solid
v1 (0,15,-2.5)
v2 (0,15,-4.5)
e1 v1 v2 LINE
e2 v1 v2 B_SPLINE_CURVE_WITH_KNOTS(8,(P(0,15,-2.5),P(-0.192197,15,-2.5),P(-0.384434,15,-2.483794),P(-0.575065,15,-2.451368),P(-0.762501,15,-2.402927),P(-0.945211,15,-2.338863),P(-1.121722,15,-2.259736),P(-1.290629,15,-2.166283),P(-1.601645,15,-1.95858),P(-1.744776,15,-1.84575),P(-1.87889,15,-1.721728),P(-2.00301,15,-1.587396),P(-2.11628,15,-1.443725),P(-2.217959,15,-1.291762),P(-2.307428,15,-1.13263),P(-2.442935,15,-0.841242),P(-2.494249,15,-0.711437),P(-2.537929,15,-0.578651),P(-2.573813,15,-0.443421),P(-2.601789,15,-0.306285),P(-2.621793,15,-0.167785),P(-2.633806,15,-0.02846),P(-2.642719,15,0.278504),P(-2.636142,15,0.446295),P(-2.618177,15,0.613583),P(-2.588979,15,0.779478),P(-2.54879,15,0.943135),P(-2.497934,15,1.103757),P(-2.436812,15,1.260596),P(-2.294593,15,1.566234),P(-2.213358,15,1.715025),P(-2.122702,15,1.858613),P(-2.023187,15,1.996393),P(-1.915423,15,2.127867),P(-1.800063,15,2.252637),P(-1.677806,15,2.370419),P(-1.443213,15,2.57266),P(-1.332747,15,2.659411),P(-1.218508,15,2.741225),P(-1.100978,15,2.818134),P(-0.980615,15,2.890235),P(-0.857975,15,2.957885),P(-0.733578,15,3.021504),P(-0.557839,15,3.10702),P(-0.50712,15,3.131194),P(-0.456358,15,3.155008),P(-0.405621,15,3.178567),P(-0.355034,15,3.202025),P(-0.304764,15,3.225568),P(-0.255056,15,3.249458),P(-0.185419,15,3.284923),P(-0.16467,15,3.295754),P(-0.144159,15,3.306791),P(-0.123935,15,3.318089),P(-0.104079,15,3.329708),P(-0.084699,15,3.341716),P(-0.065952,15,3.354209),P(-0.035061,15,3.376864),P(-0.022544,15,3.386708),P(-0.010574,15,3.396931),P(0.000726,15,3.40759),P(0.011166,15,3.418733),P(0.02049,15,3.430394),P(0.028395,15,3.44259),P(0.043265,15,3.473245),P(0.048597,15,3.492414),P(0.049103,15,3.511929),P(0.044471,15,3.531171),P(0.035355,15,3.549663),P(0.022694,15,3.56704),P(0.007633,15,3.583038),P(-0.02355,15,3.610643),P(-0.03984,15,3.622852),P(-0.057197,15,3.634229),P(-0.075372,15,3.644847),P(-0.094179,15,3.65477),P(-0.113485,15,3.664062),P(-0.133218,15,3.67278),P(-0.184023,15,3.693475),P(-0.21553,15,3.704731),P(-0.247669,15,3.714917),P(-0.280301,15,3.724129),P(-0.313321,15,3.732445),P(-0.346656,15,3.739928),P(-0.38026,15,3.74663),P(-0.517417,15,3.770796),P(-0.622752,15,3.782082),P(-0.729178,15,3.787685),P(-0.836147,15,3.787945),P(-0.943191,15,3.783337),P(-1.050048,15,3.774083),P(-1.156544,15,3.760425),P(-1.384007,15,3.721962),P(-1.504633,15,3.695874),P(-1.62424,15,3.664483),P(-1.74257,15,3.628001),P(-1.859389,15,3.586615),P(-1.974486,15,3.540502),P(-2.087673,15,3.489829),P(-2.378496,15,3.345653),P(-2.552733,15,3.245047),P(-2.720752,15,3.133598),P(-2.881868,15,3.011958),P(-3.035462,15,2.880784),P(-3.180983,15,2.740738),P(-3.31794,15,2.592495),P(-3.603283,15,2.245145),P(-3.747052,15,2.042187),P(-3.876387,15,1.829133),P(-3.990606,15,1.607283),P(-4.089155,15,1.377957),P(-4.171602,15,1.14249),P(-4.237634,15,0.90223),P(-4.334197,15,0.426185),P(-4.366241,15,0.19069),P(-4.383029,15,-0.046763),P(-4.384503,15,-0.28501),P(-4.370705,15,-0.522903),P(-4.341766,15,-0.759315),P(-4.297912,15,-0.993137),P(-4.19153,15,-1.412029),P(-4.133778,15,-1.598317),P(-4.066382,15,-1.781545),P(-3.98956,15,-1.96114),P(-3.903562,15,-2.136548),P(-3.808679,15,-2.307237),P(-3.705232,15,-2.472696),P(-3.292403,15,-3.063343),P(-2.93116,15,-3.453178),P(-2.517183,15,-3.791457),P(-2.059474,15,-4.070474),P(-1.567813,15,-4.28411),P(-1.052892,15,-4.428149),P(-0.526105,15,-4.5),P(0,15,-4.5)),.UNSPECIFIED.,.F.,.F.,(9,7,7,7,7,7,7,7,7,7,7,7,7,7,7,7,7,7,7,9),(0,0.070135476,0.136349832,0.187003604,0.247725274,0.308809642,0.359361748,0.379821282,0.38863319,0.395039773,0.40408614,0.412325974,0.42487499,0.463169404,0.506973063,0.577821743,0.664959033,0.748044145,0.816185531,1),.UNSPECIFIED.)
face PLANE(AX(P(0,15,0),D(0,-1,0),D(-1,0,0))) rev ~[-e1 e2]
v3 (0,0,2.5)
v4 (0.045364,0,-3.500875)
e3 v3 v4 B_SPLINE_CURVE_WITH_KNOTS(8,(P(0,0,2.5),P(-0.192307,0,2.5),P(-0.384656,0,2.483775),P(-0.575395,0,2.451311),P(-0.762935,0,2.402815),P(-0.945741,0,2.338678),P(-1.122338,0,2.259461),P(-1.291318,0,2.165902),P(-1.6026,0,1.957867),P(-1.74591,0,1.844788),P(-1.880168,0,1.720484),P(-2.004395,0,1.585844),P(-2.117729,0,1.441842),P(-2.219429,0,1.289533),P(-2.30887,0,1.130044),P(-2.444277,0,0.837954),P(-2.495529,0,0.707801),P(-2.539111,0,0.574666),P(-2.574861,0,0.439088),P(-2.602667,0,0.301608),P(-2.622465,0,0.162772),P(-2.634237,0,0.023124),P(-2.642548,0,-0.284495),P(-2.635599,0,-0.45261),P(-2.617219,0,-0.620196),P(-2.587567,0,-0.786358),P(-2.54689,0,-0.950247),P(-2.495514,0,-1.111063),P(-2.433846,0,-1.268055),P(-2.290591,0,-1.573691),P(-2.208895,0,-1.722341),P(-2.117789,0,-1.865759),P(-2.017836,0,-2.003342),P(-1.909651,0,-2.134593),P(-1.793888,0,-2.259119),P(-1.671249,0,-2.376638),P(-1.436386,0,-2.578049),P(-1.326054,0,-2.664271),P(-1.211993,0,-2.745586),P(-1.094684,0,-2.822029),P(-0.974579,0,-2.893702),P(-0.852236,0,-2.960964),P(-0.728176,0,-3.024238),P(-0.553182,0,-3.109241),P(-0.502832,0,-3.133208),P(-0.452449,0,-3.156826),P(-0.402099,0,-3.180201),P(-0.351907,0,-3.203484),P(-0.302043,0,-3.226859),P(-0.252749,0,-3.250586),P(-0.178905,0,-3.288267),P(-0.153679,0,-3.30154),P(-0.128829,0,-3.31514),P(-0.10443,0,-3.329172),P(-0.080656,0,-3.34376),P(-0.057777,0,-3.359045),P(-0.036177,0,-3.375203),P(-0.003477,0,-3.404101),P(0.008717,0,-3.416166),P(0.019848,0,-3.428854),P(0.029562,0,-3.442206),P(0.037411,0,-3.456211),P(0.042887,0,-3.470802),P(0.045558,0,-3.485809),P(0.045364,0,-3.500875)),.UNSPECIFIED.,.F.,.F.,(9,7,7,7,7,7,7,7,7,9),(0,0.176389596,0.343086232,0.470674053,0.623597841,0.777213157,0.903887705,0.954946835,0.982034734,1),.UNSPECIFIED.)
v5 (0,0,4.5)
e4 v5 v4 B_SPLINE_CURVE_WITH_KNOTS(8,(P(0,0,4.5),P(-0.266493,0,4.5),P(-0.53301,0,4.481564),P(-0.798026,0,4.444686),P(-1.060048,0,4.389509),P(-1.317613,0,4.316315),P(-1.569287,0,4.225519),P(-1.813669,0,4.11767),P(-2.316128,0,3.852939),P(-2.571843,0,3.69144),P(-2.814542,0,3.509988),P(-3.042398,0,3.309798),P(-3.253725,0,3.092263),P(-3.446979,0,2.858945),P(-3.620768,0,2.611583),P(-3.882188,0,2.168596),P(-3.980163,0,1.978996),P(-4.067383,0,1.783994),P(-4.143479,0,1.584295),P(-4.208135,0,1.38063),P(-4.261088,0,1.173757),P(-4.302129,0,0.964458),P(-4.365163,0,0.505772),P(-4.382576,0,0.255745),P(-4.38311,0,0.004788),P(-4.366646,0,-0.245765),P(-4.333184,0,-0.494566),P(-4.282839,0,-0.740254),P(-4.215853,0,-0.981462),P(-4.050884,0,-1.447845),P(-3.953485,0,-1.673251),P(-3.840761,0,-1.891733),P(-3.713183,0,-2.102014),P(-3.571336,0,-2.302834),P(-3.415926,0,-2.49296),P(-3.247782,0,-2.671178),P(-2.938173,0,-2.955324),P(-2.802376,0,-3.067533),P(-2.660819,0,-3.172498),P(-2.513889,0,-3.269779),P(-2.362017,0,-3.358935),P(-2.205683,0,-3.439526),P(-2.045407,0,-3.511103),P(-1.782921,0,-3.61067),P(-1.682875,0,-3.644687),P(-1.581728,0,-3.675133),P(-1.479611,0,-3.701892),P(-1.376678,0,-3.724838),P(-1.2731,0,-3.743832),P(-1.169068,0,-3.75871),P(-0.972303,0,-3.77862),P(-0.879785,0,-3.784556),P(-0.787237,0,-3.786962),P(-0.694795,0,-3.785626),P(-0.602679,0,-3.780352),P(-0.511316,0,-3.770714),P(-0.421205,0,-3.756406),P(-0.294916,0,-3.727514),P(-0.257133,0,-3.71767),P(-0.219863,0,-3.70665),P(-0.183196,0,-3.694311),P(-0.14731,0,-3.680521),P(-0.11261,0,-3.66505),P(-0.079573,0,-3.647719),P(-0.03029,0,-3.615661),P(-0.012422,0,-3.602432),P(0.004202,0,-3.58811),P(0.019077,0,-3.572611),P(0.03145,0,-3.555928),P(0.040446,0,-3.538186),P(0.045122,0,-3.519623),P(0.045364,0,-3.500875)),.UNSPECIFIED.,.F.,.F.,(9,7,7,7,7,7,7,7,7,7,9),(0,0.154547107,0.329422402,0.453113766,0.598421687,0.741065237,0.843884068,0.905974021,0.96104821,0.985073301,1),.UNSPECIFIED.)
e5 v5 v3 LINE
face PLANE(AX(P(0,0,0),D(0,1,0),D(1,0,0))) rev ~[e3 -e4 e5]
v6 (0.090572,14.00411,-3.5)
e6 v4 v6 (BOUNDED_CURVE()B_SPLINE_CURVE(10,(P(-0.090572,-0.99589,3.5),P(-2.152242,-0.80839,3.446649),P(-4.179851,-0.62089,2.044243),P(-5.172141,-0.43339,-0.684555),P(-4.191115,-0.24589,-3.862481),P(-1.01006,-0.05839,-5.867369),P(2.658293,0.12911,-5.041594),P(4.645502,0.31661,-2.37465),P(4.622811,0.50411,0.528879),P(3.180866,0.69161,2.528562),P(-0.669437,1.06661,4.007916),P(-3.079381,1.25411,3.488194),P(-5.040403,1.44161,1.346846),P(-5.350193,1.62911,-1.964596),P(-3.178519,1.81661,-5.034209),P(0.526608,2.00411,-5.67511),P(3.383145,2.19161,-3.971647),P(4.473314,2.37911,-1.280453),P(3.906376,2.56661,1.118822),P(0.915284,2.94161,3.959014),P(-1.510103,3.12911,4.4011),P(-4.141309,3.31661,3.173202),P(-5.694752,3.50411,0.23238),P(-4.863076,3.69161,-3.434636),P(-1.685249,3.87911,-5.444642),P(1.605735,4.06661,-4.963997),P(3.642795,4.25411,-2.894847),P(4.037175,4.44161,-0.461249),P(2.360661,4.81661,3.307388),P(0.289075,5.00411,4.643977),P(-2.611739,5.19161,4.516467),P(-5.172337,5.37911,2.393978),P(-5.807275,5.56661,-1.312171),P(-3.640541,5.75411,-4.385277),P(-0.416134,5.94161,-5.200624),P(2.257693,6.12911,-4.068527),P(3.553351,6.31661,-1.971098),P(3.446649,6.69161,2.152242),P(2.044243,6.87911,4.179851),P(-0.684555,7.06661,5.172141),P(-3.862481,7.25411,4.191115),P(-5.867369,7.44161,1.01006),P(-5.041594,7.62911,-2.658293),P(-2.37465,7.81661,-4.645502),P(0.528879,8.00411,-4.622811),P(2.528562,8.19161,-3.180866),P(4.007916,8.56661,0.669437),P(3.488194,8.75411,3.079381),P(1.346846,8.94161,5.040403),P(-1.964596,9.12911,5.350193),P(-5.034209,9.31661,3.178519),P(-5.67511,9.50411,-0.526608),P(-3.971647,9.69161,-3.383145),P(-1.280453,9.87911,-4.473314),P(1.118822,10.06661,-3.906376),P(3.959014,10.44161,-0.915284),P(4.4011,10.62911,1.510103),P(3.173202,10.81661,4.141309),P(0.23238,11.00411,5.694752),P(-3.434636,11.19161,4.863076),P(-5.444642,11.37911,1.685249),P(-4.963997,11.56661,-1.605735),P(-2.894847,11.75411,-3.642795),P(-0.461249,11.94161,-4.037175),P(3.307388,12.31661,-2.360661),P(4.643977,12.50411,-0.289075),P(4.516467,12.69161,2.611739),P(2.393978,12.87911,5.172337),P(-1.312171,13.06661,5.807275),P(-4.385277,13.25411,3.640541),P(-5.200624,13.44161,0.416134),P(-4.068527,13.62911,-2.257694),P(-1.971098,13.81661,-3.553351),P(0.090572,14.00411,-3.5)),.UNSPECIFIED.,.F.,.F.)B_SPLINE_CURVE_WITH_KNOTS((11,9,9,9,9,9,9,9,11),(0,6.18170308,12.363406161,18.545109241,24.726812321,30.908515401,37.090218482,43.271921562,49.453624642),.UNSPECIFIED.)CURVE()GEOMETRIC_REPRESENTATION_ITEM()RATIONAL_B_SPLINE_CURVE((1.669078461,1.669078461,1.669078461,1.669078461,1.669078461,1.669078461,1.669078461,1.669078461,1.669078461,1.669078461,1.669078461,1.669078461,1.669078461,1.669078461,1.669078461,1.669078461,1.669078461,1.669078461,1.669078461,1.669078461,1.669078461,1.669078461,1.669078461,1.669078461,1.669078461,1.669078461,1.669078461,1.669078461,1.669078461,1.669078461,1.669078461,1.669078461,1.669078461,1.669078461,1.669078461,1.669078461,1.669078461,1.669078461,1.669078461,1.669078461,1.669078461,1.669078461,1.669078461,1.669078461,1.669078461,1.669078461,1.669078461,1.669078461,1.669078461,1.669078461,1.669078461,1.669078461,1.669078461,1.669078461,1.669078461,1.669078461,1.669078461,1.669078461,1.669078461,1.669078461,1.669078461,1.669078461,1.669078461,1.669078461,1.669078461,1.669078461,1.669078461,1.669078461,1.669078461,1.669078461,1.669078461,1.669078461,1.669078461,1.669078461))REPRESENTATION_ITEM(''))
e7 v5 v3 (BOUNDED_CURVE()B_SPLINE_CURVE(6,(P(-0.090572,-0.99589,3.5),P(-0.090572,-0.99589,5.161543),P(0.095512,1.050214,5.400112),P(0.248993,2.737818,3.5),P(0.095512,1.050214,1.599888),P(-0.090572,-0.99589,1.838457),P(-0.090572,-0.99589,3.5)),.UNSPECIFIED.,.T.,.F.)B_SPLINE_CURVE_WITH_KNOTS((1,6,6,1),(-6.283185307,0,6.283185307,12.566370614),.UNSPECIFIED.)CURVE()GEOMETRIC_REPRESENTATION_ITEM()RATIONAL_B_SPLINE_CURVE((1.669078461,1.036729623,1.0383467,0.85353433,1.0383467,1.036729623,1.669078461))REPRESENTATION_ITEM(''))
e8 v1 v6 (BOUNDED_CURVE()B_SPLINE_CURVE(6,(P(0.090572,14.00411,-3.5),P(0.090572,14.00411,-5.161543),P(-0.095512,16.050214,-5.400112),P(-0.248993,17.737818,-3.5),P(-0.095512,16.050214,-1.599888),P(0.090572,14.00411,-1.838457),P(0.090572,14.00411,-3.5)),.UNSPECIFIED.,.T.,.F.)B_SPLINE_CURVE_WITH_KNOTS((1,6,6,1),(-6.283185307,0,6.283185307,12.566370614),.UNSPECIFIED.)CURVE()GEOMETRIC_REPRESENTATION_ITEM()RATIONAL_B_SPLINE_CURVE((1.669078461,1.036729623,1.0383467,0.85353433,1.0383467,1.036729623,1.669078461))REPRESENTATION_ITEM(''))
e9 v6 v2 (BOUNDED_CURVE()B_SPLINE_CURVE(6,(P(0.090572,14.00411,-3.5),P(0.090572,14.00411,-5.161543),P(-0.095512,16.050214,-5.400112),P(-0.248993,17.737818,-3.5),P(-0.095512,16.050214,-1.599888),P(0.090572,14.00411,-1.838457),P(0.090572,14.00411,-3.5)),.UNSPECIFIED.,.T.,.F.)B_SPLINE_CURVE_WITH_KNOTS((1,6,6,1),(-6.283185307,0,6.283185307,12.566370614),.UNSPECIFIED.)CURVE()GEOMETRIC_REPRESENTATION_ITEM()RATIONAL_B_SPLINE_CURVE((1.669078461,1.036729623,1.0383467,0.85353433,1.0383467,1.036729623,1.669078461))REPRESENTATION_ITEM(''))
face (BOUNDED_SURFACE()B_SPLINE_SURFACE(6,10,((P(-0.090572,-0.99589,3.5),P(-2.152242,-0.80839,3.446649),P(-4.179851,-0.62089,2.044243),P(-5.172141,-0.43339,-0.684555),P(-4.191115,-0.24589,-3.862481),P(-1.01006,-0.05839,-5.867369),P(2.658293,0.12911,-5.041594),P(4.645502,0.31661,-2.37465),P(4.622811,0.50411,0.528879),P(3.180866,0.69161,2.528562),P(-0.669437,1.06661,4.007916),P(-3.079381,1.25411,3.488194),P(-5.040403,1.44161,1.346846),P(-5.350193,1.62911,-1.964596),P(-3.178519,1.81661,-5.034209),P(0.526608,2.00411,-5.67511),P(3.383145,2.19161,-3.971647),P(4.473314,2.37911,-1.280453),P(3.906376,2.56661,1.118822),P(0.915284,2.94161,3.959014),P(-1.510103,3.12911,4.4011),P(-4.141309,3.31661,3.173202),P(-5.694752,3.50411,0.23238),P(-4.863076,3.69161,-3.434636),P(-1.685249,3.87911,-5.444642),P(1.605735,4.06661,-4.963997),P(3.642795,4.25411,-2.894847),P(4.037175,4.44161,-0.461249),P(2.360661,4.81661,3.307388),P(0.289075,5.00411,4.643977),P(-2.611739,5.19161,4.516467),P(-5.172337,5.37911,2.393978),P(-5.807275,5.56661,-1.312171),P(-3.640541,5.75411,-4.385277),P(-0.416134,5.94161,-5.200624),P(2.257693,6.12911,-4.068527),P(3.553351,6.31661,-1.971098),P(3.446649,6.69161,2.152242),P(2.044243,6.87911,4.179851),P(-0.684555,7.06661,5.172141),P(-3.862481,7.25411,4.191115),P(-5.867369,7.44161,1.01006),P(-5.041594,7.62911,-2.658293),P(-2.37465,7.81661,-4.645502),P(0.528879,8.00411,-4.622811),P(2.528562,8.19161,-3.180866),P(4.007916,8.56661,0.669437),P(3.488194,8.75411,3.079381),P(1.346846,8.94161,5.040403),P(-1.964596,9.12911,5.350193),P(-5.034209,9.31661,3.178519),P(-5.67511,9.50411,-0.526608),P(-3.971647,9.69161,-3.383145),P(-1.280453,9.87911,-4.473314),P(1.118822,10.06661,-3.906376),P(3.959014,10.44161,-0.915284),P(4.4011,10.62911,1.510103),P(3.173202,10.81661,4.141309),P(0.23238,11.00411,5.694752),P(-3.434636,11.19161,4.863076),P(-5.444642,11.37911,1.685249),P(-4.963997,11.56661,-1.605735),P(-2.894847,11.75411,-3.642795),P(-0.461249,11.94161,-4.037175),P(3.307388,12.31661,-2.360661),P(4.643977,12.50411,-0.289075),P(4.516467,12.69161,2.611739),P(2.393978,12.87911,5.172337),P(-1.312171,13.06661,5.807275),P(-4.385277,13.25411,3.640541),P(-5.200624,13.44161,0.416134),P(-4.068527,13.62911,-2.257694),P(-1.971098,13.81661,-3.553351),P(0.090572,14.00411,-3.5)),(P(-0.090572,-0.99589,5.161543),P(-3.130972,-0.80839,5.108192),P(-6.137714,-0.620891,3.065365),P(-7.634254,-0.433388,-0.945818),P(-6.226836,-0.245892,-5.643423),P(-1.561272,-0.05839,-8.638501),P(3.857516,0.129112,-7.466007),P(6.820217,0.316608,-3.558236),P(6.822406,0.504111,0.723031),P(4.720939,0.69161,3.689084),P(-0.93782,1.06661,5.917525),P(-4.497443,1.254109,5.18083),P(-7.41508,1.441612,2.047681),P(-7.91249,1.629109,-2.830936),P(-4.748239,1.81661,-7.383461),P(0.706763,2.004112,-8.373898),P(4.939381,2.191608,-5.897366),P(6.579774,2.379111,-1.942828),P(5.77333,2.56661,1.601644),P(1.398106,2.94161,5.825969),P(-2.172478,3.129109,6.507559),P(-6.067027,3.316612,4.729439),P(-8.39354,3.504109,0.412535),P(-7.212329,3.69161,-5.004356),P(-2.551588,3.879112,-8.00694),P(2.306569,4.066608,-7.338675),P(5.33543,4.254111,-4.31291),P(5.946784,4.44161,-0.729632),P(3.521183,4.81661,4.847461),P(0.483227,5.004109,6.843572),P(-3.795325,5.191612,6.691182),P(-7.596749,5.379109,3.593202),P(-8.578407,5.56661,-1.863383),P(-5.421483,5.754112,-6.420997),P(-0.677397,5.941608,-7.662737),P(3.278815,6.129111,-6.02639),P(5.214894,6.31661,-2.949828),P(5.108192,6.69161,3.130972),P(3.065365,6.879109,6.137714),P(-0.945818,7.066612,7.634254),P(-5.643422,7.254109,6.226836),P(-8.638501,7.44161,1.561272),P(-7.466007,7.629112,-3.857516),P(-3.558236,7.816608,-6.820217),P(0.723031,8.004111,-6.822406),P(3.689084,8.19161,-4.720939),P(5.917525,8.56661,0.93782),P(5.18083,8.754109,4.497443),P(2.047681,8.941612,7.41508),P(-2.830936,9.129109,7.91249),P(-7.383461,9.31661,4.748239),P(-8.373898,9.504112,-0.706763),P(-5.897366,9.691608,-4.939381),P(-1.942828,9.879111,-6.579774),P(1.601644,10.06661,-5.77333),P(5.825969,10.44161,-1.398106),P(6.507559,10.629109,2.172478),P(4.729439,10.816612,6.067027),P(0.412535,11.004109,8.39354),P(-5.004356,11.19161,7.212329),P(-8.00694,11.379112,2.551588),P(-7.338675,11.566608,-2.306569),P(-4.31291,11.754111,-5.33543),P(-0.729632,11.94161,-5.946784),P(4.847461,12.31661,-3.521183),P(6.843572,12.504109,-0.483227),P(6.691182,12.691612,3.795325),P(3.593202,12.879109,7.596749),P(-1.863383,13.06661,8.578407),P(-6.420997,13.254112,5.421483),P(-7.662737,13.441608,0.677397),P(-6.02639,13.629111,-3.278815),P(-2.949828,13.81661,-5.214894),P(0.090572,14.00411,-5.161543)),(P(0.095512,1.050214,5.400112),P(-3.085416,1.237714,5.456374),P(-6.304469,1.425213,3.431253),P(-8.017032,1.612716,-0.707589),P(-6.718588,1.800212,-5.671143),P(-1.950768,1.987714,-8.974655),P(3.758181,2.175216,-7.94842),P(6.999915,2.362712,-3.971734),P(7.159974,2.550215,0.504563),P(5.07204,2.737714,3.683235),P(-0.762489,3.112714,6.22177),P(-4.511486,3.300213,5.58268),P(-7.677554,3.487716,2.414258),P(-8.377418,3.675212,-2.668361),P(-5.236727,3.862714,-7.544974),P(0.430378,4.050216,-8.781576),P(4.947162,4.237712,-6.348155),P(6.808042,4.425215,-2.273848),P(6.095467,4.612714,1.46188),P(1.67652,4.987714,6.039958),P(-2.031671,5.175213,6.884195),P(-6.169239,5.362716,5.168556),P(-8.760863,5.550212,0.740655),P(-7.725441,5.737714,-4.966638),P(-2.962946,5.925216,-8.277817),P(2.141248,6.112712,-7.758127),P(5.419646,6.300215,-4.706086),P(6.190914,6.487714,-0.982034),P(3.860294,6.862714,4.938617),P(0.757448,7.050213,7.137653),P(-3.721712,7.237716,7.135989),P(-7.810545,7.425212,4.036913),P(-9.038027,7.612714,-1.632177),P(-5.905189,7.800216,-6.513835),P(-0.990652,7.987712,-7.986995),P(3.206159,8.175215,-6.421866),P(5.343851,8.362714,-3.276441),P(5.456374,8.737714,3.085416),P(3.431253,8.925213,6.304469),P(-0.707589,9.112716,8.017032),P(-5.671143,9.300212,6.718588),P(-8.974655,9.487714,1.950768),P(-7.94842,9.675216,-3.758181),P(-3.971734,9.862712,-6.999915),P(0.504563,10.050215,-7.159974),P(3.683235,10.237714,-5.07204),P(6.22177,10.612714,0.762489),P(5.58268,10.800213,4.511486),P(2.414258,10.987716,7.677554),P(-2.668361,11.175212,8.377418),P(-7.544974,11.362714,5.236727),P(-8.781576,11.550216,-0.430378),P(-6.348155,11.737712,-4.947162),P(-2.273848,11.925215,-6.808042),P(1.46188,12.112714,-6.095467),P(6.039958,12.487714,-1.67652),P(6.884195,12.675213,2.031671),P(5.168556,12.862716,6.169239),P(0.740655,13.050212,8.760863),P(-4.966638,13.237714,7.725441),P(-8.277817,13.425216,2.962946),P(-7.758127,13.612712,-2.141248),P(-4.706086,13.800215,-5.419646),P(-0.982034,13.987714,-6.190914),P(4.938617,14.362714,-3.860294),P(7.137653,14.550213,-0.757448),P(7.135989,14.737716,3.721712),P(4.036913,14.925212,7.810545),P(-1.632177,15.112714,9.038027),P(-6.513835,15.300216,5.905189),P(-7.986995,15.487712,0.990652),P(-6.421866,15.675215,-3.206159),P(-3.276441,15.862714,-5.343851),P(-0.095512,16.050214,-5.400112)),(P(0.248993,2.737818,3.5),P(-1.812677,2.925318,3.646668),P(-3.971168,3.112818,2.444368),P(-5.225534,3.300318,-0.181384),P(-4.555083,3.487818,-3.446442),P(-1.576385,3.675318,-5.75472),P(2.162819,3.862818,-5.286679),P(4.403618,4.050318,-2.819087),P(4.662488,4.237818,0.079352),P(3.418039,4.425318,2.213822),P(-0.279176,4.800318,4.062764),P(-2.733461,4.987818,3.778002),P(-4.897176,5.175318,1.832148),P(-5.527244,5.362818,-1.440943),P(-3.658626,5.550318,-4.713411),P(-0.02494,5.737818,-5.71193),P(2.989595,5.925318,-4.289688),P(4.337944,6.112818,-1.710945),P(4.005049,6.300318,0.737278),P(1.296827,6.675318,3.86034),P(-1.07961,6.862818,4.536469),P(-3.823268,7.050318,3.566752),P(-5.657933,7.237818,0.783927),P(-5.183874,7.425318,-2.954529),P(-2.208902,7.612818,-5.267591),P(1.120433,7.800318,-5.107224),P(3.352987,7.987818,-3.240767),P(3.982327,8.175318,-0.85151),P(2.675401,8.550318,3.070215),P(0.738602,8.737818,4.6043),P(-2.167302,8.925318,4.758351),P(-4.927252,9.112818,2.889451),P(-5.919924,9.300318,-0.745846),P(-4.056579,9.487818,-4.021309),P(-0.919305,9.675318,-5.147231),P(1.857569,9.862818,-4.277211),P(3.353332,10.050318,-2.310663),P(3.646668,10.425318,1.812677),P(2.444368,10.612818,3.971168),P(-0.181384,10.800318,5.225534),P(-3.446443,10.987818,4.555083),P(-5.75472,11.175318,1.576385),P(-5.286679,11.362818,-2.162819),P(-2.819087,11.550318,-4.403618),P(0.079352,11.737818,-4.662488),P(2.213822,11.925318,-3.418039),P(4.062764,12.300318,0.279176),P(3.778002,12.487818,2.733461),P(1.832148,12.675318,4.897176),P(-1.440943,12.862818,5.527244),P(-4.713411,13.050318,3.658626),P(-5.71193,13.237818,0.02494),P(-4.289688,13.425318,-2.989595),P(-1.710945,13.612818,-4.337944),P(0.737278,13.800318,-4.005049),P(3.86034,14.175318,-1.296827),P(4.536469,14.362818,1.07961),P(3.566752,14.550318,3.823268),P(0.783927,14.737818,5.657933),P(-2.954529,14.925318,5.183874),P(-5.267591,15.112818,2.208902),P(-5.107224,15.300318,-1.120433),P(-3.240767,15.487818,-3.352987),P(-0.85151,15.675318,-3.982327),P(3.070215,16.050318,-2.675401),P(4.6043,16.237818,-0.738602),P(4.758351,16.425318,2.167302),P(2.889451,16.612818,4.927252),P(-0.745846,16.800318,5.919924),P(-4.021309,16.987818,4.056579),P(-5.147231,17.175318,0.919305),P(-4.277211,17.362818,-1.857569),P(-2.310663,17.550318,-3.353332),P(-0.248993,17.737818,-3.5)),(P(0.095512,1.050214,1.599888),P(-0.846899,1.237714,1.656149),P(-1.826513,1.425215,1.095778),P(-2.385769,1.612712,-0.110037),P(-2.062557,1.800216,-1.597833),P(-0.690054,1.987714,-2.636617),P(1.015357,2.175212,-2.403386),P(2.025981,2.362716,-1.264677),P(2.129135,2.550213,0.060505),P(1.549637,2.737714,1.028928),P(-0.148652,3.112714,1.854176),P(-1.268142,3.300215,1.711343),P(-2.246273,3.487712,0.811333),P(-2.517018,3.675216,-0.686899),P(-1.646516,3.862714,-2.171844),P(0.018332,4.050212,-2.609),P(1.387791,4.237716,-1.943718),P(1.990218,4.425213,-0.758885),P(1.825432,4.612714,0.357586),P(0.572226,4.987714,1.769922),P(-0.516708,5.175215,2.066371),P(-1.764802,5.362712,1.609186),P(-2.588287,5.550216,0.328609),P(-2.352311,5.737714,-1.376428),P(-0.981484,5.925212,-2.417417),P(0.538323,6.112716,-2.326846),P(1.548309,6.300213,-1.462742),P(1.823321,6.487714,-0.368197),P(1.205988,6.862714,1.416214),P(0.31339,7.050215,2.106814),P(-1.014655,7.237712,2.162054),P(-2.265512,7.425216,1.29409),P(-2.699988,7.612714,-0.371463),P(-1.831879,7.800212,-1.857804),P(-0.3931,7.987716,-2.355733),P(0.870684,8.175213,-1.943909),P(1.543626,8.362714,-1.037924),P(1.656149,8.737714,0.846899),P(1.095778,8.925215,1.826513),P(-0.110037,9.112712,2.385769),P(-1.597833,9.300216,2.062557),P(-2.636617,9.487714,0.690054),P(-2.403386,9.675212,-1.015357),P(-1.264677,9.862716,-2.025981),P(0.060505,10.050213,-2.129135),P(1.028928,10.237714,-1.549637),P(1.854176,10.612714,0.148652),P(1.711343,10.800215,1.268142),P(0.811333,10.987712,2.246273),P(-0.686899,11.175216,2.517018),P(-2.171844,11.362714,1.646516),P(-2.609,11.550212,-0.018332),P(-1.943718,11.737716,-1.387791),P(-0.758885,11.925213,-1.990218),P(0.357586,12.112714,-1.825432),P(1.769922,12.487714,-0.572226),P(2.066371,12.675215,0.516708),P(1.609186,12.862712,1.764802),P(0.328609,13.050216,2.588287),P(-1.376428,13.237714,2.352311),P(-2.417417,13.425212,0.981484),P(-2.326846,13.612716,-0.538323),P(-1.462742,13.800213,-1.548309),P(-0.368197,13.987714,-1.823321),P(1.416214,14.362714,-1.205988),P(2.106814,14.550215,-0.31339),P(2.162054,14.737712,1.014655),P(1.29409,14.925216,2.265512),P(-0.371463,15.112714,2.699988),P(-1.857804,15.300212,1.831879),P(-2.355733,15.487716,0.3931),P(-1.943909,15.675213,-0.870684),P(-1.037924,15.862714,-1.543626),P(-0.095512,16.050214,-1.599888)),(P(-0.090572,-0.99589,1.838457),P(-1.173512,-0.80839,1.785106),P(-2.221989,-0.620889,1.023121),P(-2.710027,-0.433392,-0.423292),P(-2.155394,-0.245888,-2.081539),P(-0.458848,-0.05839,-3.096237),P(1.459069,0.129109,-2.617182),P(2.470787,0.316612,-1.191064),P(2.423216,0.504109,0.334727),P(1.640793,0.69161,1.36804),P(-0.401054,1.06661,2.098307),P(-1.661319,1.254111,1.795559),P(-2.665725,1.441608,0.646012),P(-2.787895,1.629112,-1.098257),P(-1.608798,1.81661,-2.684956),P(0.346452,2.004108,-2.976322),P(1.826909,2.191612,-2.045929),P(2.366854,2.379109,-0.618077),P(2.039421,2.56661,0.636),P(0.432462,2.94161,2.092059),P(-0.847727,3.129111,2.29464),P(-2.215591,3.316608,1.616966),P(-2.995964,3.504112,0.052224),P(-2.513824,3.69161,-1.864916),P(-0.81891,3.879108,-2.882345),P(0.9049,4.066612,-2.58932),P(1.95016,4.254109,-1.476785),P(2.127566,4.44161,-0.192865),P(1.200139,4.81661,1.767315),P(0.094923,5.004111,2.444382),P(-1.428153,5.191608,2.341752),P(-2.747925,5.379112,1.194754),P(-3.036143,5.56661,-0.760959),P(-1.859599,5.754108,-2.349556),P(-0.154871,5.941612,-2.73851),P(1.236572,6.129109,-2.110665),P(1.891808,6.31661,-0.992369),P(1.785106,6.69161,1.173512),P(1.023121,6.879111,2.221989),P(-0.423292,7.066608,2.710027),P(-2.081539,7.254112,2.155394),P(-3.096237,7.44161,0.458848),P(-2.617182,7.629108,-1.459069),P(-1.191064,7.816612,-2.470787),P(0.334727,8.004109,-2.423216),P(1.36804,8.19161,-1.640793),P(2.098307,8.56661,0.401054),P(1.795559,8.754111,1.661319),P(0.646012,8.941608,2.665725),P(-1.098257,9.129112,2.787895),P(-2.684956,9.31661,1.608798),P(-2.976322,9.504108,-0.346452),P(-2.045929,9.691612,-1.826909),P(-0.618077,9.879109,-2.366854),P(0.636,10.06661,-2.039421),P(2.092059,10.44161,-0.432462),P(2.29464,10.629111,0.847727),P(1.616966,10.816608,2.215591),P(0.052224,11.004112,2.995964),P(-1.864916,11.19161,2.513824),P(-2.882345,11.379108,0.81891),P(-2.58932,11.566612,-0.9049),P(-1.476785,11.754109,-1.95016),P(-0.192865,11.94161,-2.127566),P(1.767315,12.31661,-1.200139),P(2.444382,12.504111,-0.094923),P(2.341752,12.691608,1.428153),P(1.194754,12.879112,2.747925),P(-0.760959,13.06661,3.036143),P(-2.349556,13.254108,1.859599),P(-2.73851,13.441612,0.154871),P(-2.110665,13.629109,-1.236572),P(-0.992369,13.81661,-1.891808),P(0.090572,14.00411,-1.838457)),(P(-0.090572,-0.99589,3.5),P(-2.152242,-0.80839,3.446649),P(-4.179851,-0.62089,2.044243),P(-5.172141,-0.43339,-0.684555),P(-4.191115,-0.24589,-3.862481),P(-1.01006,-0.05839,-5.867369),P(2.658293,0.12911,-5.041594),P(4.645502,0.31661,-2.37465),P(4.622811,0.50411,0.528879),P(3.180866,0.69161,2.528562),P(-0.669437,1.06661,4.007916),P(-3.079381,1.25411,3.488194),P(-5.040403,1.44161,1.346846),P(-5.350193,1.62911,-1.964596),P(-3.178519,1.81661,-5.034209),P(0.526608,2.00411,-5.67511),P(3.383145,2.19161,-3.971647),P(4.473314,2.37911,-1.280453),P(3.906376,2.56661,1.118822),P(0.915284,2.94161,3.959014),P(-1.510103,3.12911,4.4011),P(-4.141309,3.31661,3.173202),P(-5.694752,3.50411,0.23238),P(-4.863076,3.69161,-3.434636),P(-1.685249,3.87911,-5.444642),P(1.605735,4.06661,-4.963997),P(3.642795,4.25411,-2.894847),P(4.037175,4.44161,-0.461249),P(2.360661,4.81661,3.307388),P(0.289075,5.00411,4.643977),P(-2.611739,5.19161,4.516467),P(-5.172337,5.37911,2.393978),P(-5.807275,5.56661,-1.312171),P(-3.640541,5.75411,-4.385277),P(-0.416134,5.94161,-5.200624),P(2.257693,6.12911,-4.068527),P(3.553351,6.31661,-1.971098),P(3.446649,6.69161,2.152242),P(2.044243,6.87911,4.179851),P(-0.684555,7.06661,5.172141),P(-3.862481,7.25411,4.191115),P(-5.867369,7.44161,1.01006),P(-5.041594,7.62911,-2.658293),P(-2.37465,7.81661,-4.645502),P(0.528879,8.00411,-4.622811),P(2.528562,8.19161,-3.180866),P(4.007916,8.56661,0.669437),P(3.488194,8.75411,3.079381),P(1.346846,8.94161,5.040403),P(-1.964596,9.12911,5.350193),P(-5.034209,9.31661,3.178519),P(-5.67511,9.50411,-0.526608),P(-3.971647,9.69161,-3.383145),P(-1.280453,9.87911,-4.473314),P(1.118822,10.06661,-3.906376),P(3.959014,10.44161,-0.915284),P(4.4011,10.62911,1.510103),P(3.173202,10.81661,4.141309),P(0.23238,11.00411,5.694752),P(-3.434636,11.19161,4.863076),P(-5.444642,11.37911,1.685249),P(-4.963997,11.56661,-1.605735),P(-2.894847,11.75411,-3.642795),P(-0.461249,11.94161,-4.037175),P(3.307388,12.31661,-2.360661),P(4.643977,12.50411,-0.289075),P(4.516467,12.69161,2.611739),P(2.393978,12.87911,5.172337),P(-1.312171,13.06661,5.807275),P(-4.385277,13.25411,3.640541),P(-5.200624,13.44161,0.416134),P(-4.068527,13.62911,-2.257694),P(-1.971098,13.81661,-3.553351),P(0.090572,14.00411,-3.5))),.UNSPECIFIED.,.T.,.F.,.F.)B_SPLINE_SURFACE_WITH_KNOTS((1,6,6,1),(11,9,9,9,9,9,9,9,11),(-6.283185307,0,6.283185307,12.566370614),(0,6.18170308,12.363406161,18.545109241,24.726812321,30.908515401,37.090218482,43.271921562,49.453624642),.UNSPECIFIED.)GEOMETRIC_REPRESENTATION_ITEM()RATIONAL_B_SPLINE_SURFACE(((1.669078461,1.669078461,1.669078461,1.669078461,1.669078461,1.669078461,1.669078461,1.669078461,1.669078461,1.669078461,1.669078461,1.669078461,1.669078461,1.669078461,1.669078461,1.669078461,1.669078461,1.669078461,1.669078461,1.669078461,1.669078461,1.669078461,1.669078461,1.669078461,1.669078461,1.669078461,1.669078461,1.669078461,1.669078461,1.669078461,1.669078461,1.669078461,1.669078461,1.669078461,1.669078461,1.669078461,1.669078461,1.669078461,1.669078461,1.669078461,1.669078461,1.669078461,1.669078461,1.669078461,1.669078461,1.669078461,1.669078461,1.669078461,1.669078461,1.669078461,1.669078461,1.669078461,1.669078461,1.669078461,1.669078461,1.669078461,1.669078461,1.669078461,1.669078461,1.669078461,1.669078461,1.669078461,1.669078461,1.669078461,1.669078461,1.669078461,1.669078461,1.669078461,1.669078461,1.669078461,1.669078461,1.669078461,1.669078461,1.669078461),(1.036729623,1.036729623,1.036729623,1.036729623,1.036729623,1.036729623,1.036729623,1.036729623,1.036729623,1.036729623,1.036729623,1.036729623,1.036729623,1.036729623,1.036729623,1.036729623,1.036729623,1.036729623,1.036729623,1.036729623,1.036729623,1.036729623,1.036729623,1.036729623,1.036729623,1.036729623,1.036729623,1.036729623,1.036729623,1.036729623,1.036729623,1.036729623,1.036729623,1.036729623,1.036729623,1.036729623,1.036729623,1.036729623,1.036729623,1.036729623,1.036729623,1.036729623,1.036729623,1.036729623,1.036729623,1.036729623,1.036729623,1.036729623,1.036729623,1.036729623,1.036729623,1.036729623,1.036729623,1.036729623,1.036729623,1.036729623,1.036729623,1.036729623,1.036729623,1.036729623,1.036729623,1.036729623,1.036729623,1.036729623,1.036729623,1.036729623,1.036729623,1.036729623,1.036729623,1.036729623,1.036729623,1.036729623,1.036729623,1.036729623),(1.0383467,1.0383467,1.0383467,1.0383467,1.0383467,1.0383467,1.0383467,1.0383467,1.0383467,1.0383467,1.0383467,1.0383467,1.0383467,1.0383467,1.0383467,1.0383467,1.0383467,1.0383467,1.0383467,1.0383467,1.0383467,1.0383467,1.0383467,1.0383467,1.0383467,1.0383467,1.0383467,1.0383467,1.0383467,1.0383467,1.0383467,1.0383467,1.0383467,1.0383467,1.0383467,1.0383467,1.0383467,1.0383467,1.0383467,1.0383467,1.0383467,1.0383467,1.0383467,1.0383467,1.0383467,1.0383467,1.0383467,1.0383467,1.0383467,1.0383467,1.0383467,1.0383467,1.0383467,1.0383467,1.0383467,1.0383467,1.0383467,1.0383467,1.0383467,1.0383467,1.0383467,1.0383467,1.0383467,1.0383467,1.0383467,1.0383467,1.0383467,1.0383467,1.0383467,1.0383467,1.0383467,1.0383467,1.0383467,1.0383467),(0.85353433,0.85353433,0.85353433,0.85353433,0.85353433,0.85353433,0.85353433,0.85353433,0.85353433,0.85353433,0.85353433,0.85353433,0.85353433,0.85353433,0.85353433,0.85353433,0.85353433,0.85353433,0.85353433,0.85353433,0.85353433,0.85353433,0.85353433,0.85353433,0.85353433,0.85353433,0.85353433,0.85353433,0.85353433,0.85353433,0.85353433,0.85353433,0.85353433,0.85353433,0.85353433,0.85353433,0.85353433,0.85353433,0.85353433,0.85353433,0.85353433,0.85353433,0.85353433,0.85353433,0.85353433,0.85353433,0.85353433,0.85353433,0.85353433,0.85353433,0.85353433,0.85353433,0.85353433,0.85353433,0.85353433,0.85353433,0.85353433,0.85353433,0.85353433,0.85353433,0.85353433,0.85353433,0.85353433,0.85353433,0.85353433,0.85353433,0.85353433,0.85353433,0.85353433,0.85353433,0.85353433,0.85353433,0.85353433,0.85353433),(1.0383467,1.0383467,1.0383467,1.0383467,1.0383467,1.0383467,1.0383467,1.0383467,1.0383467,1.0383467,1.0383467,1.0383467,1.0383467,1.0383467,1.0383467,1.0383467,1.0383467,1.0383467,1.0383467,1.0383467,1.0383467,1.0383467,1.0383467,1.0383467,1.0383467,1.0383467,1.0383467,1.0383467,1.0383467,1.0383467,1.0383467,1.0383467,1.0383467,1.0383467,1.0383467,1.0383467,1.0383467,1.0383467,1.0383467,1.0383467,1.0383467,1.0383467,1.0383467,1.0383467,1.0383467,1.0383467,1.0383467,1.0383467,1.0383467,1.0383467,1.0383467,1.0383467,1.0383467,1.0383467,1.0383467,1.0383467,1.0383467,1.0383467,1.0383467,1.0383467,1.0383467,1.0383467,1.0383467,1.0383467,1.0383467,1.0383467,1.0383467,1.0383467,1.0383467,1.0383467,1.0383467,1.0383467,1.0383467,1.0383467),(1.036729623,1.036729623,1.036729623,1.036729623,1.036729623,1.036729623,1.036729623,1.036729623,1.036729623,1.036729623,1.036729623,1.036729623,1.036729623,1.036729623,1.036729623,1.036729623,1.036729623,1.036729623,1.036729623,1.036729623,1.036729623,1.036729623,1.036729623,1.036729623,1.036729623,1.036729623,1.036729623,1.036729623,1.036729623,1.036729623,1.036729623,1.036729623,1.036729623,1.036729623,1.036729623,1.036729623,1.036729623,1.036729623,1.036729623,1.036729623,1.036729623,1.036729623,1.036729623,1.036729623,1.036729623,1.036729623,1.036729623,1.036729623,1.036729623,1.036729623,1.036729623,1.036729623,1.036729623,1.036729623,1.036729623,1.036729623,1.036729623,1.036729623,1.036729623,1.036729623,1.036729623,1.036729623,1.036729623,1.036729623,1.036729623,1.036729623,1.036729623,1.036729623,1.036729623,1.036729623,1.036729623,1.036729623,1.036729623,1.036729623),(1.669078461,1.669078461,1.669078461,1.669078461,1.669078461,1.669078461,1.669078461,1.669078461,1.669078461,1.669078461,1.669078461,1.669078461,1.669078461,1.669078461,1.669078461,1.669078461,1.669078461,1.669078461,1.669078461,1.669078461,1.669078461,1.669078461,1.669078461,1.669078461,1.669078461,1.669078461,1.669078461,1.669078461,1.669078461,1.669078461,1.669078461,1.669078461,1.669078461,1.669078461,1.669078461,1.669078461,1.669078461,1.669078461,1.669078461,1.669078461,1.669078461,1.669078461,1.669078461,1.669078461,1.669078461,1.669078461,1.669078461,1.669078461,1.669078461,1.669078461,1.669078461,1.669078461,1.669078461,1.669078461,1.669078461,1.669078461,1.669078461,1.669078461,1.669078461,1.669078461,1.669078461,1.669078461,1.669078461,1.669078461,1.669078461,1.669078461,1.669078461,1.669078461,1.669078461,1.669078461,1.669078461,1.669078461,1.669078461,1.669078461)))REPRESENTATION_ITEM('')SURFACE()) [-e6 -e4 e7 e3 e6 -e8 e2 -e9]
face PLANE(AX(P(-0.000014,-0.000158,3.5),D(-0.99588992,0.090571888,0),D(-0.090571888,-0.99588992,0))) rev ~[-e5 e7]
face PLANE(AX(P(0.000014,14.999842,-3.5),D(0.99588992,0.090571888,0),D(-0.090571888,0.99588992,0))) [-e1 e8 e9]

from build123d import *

# Parameters (mm, degrees)
SWEEP1_PITCH       = 2
SWEEP1_HEIGHT      = 15
SWEEP1_RADIUS      = 3.5
SWEEP1_PROFILE_R   = 1
SKETCH8_R          = 5
CUT_EXTRUDE1_DEPTH = 10
SKETCH9_R          = 5
CUT_EXTRUDE2_DEPTH = 10


with BuildPart() as part:
    # Sweep1: sweep along a helix
    with BuildLine() as sweep1_path:
        Helix(SWEEP1_PITCH, SWEEP1_HEIGHT, SWEEP1_RADIUS, center=(0, 0, 0), direction=(0, 1, 0), lefthand=True)
    # Sweep1 profile (on start of the path) → Sweep1 (sweep)
    with BuildSketch(Plane(origin=(0, 0, 3.5), x_dir=(-0.09057188775690729, -0.9958899201960778, 0), z_dir=(-0.9958899201960778, 0.09057188775690729, -6.912218000141665e-14))):
        Circle(SWEEP1_PROFILE_R)
    sweep(path=sweep1_path.line, is_frenet=True)

    # Sketch8 → Cut-Extrude1 (cut)
    with BuildSketch(Plane(origin=(0, 0, 0), x_dir=(1, 0, 0), z_dir=(0, 1, 0))):
        Circle(SKETCH8_R)
    extrude(amount=-CUT_EXTRUDE1_DEPTH, mode=Mode.SUBTRACT)

    # Sketch9 → Cut-Extrude2 (cut)
    with BuildSketch(Plane(origin=(0, 15, 0), x_dir=(-1, 0, 0), z_dir=(0, -1, 0))):
        Circle(SKETCH9_R)
    extrude(amount=-CUT_EXTRUDE2_DEPTH, mode=Mode.SUBTRACT)


solid = part.part
